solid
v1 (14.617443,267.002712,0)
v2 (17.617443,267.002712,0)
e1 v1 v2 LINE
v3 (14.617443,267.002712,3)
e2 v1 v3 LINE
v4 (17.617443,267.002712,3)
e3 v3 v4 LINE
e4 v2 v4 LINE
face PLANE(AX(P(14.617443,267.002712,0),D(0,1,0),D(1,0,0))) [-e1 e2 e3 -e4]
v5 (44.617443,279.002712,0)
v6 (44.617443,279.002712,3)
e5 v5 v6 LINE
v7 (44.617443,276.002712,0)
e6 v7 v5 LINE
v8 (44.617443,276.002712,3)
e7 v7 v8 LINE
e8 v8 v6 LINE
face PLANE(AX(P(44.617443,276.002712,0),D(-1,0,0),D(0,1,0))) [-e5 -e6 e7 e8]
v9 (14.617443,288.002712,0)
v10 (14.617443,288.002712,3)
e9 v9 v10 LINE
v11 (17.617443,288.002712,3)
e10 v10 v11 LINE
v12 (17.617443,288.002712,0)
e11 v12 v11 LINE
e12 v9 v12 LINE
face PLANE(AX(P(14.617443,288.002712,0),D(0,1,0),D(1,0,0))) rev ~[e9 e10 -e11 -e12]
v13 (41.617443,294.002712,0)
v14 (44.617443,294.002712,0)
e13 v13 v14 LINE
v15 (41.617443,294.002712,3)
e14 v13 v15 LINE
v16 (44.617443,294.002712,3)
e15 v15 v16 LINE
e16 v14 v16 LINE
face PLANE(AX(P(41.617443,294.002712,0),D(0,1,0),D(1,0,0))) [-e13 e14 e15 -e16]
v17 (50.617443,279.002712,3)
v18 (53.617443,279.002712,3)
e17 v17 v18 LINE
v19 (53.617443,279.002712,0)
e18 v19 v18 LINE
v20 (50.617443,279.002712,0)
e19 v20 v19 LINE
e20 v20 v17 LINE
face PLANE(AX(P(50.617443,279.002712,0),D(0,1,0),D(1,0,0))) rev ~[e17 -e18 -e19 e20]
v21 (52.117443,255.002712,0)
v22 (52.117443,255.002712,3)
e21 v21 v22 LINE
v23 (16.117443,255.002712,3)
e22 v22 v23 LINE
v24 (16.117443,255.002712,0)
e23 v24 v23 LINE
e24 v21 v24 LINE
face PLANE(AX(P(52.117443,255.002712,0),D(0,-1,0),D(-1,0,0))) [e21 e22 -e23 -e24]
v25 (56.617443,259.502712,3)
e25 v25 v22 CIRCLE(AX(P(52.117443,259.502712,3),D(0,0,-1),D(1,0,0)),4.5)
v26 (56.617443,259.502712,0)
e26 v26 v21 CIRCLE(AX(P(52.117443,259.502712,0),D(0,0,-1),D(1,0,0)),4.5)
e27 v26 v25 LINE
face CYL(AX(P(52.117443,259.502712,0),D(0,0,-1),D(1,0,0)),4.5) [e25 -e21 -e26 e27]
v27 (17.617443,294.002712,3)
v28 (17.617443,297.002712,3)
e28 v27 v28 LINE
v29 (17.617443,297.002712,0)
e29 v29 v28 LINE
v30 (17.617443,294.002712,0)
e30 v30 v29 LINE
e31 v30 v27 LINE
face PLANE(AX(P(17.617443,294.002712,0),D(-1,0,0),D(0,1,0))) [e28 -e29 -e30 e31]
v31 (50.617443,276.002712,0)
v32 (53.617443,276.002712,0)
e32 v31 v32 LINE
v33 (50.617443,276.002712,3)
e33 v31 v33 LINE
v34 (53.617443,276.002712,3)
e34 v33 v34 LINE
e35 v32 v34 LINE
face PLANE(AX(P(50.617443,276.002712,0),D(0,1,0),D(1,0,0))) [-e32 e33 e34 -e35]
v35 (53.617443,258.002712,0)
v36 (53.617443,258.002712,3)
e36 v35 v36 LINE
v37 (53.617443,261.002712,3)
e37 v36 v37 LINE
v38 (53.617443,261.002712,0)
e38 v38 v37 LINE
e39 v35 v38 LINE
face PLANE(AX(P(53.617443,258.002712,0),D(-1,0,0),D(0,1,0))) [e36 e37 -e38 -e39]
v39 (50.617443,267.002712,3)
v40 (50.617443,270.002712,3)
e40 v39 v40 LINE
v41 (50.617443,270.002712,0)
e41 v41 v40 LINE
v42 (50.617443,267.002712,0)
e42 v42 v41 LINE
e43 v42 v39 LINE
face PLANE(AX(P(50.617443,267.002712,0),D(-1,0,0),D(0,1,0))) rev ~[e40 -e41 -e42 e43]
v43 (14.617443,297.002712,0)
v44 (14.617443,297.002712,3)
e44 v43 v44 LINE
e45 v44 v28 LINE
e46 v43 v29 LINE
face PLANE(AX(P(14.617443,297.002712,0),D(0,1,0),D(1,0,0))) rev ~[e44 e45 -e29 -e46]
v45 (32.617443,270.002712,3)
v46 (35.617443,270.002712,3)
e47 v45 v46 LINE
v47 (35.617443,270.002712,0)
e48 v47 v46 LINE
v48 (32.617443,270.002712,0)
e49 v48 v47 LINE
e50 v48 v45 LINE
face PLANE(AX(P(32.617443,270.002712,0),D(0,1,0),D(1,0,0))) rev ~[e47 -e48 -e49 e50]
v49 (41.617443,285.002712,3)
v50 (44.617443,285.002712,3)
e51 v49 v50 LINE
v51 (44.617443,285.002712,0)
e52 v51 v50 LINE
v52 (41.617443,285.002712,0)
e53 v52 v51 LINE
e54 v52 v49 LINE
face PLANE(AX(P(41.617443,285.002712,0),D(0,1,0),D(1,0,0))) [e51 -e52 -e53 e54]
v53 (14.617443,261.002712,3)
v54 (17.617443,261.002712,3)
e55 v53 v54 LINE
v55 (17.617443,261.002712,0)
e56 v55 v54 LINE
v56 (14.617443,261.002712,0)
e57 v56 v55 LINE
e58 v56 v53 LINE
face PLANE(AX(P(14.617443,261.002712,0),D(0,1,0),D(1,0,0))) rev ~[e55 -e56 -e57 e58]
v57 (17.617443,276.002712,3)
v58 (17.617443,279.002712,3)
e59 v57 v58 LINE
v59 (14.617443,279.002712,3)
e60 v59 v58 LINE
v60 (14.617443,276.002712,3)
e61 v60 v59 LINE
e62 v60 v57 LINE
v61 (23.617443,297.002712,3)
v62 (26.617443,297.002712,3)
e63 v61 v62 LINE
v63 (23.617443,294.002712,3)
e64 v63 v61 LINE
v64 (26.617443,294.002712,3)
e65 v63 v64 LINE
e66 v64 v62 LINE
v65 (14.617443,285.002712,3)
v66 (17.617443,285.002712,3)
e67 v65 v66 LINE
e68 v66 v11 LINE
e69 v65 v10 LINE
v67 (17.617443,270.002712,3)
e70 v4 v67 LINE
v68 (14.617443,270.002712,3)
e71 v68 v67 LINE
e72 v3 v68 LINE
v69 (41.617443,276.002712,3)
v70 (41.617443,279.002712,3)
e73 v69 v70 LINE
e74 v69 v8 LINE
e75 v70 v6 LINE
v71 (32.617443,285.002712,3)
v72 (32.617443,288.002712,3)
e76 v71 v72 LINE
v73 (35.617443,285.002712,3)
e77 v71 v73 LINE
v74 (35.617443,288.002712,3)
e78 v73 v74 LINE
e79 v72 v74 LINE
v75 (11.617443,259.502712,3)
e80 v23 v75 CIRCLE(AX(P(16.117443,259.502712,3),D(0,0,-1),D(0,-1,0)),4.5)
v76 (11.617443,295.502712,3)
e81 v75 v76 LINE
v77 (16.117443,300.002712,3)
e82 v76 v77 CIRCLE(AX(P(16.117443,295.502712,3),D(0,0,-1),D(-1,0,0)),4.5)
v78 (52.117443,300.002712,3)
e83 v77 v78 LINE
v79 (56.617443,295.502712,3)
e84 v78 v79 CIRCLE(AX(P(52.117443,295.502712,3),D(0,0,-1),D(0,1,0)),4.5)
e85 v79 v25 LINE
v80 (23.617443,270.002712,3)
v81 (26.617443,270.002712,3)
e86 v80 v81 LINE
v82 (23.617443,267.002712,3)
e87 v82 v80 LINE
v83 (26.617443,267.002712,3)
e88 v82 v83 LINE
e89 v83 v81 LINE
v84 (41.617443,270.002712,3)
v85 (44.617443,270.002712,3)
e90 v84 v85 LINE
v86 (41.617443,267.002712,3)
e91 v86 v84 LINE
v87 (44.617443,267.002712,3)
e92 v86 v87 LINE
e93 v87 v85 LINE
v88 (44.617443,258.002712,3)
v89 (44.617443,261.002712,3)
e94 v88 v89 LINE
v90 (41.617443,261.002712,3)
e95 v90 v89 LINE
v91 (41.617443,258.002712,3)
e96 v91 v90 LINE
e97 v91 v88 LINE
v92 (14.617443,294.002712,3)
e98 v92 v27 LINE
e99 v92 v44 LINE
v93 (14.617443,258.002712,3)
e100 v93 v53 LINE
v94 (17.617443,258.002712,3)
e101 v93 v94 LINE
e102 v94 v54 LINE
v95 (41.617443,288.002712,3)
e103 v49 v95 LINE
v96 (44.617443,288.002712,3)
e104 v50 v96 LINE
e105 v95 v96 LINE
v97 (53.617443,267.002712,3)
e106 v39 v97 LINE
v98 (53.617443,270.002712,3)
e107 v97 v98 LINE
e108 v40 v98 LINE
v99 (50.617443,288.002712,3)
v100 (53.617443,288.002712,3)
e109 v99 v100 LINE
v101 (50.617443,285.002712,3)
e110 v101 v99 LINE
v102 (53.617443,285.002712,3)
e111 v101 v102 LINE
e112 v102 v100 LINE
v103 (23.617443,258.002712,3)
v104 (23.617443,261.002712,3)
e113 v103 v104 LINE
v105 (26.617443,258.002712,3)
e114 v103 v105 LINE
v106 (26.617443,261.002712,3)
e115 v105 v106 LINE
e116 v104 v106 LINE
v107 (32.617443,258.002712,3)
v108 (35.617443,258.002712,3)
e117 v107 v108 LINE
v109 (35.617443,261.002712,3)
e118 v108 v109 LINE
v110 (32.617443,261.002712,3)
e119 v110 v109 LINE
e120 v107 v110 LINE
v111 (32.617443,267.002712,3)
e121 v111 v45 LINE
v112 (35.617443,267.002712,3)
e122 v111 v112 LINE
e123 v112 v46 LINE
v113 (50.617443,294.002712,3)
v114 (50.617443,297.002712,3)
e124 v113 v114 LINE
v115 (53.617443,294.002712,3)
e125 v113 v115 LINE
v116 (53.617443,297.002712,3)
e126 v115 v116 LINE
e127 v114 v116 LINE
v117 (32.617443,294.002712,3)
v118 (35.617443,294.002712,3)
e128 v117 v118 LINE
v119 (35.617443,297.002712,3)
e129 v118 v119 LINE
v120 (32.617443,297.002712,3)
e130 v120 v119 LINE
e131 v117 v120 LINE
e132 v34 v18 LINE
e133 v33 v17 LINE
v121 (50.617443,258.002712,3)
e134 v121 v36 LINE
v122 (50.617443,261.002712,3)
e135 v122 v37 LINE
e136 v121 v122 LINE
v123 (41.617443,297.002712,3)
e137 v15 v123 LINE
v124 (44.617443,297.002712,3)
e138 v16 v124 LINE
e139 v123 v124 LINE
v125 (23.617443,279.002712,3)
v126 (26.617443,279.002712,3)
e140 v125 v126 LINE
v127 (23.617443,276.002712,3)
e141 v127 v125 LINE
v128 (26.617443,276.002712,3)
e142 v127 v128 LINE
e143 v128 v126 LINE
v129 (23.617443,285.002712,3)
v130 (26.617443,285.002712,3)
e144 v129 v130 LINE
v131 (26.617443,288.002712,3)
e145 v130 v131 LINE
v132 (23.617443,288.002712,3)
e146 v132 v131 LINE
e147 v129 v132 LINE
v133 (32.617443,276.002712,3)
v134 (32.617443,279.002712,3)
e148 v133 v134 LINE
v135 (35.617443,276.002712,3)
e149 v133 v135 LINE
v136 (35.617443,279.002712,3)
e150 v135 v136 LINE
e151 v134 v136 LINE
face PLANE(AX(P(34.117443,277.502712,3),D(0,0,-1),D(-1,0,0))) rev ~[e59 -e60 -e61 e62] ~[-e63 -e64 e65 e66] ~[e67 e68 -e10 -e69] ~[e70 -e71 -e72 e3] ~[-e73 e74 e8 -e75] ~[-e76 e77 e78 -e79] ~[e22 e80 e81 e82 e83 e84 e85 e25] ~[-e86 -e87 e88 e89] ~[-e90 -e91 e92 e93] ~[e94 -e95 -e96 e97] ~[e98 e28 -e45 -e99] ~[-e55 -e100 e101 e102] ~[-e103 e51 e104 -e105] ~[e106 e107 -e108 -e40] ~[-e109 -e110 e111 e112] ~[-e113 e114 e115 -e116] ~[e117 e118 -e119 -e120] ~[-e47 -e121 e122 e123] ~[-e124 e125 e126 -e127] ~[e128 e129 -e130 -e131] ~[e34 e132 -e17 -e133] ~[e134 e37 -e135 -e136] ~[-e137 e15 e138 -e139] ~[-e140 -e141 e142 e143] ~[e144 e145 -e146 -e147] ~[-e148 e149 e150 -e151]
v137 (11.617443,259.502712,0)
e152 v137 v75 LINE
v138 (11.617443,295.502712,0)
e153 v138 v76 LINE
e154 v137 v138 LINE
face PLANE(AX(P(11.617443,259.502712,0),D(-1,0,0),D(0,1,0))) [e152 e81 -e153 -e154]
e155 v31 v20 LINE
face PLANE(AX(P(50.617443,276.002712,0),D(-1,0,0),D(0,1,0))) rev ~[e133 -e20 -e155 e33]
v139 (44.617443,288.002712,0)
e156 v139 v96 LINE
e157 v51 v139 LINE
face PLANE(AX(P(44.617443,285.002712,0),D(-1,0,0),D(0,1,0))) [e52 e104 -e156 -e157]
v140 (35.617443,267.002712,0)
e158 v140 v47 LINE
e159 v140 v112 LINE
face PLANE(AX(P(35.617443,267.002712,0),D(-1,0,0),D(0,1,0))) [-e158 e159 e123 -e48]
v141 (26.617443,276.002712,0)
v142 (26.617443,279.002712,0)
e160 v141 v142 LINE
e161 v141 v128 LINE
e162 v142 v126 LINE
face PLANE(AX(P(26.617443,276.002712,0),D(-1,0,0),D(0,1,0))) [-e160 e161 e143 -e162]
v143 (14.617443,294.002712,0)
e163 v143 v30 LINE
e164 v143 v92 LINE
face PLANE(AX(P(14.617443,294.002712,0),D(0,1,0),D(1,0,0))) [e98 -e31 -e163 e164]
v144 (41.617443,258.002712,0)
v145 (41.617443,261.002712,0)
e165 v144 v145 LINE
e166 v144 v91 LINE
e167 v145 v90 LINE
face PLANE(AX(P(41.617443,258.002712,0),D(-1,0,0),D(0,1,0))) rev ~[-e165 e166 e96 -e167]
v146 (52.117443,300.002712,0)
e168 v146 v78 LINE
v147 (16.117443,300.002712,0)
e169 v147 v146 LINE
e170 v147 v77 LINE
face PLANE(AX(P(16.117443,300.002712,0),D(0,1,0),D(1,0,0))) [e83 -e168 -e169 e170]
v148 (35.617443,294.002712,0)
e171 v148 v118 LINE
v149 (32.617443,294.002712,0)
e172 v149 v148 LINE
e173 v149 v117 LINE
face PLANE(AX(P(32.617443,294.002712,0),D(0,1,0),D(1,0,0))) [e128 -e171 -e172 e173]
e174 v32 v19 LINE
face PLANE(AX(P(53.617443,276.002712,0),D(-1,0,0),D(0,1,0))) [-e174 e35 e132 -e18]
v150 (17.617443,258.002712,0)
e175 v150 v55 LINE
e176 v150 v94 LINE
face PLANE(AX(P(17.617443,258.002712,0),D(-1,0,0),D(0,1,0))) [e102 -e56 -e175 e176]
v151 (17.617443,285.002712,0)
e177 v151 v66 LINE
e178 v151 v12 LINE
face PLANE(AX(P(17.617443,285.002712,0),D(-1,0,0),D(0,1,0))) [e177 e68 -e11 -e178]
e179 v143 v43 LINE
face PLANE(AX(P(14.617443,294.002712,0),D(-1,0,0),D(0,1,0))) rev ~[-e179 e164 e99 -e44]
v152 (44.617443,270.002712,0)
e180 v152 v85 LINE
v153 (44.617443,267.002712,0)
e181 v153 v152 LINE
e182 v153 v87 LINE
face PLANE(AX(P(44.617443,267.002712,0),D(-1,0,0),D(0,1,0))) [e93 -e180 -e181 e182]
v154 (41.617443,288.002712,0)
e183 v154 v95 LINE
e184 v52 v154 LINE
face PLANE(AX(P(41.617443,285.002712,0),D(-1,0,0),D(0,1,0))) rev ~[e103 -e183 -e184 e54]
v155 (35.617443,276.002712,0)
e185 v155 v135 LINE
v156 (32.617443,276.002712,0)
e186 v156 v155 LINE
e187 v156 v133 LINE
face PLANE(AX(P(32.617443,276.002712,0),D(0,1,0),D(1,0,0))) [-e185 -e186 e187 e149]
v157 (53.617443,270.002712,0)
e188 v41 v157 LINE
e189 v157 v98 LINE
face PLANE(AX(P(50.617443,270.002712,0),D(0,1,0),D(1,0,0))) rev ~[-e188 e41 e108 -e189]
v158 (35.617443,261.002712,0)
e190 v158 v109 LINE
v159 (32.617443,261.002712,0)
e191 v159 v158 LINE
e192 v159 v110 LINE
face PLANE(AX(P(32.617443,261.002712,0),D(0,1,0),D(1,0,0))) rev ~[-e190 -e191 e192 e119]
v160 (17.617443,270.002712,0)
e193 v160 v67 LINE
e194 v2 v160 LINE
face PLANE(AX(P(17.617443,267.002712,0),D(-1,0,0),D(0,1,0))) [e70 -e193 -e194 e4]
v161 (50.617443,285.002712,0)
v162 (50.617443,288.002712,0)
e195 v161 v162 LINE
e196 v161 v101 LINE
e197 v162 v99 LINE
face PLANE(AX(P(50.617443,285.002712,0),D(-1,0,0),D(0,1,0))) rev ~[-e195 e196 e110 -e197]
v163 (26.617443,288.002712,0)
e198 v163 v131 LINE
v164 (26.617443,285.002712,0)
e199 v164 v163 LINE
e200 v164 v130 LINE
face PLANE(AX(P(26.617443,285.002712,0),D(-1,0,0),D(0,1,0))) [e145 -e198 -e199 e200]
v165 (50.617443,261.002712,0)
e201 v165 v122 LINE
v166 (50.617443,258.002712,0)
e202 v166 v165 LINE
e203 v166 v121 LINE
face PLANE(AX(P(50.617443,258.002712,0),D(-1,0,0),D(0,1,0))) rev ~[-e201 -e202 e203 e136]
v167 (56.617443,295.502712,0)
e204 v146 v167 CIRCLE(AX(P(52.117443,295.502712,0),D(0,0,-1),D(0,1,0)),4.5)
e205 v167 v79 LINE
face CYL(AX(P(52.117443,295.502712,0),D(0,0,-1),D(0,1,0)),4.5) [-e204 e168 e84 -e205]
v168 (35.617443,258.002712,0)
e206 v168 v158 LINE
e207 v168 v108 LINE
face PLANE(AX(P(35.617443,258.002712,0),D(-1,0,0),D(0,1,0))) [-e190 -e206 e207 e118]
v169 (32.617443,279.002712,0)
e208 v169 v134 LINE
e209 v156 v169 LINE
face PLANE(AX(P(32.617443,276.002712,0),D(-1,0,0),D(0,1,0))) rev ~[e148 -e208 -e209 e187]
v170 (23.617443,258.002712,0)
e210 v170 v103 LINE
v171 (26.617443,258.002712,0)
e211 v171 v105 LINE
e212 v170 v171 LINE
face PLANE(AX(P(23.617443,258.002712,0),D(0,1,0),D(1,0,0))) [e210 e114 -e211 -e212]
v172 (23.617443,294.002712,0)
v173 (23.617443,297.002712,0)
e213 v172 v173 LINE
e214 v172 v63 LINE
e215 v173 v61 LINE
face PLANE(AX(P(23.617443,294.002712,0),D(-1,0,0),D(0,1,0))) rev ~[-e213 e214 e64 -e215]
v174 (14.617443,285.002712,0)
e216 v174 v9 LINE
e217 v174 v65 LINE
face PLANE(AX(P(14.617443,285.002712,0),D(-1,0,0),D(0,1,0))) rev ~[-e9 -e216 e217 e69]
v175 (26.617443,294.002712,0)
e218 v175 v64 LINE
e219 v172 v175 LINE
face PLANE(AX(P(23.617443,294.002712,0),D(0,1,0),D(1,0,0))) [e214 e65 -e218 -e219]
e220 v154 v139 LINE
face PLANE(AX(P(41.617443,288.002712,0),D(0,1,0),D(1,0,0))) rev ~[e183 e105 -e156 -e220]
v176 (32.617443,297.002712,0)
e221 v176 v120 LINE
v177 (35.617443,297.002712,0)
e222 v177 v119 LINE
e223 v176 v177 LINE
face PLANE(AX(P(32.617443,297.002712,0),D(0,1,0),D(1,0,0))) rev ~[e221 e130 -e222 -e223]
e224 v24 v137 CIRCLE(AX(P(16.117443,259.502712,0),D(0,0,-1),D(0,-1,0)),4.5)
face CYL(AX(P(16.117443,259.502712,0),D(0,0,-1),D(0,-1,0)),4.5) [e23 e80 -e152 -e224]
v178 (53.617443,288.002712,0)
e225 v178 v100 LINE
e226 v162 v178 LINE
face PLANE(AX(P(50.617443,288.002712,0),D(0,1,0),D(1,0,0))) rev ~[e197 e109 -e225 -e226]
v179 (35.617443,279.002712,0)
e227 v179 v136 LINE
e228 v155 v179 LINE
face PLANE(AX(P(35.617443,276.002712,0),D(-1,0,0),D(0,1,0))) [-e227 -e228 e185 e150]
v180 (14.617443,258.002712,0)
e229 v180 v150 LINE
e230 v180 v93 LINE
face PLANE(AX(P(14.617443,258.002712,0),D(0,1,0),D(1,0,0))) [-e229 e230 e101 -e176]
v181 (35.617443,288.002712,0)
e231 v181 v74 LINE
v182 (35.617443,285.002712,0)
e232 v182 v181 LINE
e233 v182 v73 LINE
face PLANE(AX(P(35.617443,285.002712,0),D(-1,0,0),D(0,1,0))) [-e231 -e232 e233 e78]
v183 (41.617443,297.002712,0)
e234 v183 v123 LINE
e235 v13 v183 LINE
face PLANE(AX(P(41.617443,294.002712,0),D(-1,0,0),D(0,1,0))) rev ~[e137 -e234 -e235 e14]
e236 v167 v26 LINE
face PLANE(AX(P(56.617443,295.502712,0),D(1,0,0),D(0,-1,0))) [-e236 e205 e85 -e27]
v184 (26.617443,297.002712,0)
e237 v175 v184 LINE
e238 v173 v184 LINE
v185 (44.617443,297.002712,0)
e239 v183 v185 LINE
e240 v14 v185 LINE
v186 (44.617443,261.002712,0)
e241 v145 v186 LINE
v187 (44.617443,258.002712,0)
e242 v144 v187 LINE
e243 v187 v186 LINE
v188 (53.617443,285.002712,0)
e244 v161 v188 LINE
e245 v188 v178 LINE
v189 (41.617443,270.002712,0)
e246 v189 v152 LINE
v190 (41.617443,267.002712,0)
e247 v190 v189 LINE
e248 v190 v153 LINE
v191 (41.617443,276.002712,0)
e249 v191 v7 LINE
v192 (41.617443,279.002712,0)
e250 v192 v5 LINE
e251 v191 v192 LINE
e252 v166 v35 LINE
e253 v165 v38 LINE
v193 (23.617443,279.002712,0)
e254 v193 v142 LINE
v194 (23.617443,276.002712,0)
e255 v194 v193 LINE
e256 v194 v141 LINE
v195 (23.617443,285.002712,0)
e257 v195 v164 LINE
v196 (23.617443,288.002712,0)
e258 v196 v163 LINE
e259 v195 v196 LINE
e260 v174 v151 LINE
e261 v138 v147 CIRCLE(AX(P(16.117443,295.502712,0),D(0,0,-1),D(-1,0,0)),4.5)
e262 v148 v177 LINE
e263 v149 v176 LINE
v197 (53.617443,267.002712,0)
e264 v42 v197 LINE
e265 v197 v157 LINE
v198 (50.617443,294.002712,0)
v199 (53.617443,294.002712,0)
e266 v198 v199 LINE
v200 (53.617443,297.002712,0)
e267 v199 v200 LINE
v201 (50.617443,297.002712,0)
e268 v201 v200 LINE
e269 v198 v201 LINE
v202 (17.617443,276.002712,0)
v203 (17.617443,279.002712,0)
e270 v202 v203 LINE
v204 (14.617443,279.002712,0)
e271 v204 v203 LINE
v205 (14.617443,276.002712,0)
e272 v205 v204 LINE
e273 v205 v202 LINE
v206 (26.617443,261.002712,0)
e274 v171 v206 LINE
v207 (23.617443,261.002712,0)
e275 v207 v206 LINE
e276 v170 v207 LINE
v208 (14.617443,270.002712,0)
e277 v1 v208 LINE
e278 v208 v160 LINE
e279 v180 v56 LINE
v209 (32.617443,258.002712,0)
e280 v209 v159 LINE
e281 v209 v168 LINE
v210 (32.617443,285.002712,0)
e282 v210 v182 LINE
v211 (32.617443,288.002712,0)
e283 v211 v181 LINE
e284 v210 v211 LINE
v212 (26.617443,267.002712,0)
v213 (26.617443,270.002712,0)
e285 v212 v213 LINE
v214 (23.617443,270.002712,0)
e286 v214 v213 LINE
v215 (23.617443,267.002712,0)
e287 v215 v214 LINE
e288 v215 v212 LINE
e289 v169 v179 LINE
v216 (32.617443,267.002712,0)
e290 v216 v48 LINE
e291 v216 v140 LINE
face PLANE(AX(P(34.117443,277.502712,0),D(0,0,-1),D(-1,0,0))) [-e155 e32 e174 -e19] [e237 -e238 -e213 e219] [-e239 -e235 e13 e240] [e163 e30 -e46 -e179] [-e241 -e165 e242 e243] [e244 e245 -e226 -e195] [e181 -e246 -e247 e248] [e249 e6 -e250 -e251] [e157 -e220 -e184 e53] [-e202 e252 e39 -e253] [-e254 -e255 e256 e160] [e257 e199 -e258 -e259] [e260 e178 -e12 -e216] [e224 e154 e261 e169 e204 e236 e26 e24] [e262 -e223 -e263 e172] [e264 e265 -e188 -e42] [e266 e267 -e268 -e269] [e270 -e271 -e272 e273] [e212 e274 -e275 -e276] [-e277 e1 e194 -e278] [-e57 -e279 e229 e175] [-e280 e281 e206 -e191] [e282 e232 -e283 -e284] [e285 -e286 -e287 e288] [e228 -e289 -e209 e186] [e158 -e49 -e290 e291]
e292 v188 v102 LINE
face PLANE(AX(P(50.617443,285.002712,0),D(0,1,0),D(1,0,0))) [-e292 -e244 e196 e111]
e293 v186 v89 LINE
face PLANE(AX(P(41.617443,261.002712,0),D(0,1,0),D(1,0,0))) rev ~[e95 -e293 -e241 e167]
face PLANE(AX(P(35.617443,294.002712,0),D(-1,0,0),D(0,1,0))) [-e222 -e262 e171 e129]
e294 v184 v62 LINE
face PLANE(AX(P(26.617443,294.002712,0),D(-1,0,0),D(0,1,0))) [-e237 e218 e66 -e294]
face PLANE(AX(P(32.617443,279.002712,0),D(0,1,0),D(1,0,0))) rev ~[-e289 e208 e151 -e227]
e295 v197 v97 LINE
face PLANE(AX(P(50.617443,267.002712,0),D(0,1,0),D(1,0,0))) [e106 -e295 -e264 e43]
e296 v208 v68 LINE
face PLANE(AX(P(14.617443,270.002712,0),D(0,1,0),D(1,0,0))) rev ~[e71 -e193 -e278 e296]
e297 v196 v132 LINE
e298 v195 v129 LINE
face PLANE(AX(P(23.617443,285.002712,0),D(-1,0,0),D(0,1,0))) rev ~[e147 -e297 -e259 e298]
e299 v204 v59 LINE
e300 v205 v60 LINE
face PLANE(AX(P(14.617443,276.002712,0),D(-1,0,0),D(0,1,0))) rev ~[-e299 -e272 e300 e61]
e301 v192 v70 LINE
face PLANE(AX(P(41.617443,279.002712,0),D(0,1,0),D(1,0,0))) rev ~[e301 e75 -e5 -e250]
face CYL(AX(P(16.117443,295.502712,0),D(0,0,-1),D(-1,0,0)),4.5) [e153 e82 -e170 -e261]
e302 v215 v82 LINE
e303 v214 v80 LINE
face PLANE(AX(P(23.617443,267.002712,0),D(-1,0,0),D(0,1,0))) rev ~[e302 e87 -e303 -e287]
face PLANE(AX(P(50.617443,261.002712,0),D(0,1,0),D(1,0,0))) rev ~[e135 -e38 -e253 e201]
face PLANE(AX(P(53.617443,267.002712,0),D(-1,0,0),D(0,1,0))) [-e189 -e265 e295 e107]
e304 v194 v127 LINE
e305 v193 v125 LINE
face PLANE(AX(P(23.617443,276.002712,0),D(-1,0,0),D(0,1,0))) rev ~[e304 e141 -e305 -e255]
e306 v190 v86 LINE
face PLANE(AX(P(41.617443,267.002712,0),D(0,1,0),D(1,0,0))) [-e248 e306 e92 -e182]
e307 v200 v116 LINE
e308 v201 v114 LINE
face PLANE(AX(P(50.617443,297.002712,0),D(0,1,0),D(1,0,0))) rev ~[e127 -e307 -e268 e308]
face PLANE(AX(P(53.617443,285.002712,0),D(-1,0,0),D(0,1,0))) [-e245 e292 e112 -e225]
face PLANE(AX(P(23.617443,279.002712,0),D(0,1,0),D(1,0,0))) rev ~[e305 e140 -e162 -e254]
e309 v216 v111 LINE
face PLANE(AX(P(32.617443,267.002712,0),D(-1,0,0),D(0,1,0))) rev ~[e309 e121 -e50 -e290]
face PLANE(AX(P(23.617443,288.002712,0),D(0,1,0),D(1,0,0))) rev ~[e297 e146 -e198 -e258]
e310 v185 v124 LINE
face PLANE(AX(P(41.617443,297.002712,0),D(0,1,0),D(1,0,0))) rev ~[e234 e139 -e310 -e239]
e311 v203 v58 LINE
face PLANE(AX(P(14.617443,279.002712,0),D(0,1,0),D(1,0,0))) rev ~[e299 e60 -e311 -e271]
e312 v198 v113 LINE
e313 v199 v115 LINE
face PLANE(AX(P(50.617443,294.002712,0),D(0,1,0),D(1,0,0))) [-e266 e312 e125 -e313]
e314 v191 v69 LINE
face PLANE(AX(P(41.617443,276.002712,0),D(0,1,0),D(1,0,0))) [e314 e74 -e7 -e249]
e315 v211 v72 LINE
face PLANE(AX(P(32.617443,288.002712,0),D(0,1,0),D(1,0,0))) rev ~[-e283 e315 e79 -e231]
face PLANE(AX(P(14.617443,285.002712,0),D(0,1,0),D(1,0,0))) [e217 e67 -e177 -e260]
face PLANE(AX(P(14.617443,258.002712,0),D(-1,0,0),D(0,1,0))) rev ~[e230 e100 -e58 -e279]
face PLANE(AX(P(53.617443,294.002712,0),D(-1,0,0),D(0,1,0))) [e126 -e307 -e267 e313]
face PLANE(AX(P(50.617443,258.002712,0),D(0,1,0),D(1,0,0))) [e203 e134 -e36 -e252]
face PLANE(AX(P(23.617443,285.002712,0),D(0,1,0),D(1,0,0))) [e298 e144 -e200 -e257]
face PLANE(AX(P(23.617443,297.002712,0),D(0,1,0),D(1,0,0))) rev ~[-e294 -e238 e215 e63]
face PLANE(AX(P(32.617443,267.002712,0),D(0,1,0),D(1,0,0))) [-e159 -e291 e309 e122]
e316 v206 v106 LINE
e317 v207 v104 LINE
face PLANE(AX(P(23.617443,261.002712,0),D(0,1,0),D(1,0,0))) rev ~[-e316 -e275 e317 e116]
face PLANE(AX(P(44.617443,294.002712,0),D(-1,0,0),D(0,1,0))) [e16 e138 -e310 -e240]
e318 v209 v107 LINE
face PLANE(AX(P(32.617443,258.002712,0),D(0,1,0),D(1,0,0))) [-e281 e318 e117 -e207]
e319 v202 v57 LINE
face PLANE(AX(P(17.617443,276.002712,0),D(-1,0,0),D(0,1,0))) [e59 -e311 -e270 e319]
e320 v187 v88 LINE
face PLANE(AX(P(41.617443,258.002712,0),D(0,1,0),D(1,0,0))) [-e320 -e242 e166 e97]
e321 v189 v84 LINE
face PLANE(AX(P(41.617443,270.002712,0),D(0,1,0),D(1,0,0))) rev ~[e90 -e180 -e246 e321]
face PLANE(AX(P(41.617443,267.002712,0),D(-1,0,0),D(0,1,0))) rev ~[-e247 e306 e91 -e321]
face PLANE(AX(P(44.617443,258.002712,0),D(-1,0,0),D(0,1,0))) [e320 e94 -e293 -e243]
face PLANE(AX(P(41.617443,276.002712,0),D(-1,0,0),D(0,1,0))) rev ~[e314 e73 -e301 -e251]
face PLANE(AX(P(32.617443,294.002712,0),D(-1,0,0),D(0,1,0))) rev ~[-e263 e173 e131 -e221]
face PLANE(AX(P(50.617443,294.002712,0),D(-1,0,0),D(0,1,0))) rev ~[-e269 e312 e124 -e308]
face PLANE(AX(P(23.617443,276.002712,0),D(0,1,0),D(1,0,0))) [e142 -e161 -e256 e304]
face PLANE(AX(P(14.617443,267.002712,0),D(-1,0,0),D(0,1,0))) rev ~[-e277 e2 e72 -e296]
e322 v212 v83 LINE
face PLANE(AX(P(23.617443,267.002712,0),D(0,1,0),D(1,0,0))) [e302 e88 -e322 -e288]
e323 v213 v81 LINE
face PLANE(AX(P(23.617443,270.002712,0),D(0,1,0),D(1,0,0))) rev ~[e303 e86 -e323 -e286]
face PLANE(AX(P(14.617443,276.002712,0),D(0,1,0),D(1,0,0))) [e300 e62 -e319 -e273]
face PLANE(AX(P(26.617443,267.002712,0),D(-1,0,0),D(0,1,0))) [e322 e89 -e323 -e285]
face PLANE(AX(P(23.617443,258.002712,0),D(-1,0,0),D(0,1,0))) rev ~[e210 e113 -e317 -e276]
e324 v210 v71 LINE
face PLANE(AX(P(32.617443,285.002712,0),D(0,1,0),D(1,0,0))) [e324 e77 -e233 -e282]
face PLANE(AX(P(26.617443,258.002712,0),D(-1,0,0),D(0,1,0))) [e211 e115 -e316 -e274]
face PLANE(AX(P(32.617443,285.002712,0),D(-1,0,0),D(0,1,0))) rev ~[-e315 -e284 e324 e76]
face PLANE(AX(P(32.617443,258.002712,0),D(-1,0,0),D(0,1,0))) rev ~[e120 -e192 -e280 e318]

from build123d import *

# Parameters (mm, degrees)
MODEL_W                 = 3
MODEL_H                 = 3
SALIENTE_EXTRUIR1_DEPTH = 3


with BuildPart() as part:
    # Model → Saliente-Extruir1 (new body)
    with BuildSketch(Plane.XY):
        with BuildLine():
            Line((16.117442786, 300.002712349), (52.117442786, 300.002712349))
            ThreePointArc((52.117442786, 300.002712349), (55.299423301, 298.684692865), (56.617442786, 295.502712349))
            Line((56.617442786, 295.502712349), (56.617442786, 259.502712349))
            ThreePointArc((56.617442786, 259.502712349), (55.299423301, 256.320731834), (52.117442786, 255.002712349))
            Line((52.117442786, 255.002712349), (16.117442786, 255.002712349))
            ThreePointArc((16.117442786, 255.002712349), (12.935462271, 256.320731834), (11.617442786, 259.502712349))
            Line((11.617442786, 259.502712349), (11.617442786, 295.502712349))
            ThreePointArc((11.617442786, 295.502712349), (12.935462271, 298.684692865), (16.117442786, 300.002712349))
        make_face()
        with Locations((16.117442786, 295.502712349)):
            Rectangle(MODEL_W, MODEL_H, mode=Mode.SUBTRACT)
        with Locations((25.117442786, 295.502712349)):
            Rectangle(MODEL_W, MODEL_H, mode=Mode.SUBTRACT)
        with Locations((34.117442786, 295.502712349)):
            Rectangle(MODEL_W, MODEL_H, mode=Mode.SUBTRACT)
        with Locations((43.117442786, 295.502712349)):
            Rectangle(MODEL_W, MODEL_H, mode=Mode.SUBTRACT)
        with Locations((52.117442786, 295.502712349)):
            Rectangle(MODEL_W, MODEL_H, mode=Mode.SUBTRACT)
        with Locations((16.117442786, 259.502712349)):
            Rectangle(MODEL_W, MODEL_H, mode=Mode.SUBTRACT)
        with Locations((25.117442786, 259.502712349)):
            Rectangle(MODEL_W, MODEL_H, mode=Mode.SUBTRACT)
        with Locations((34.117442786, 259.502712349)):
            Rectangle(MODEL_W, MODEL_H, mode=Mode.SUBTRACT)
        with Locations((43.117442786, 259.502712349)):
            Rectangle(MODEL_W, MODEL_H, mode=Mode.SUBTRACT)
        with Locations((52.117442786, 259.502712349)):
            Rectangle(MODEL_W, MODEL_H, mode=Mode.SUBTRACT)
        with Locations((16.117442786, 286.502712349)):
            Rectangle(MODEL_W, MODEL_H, mode=Mode.SUBTRACT)
        with Locations((25.117442786, 286.502712349)):
            Rectangle(MODEL_W, MODEL_H, mode=Mode.SUBTRACT)
        with Locations((34.117442786, 286.502712349)):
            Rectangle(MODEL_W, MODEL_H, mode=Mode.SUBTRACT)
        with Locations((43.117442786, 286.502712349)):
            Rectangle(MODEL_W, MODEL_H, mode=Mode.SUBTRACT)
        with Locations((52.117442786, 286.502712349)):
            Rectangle(MODEL_W, MODEL_H, mode=Mode.SUBTRACT)
        with Locations((16.117442786, 277.502712349)):
            Rectangle(MODEL_W, MODEL_H, mode=Mode.SUBTRACT)
        with Locations((25.117442786, 277.502712349)):
            Rectangle(MODEL_W, MODEL_H, mode=Mode.SUBTRACT)
        with Locations((34.117442786, 277.502712349)):
            Rectangle(MODEL_W, MODEL_H, mode=Mode.SUBTRACT)
        with Locations((43.117442786, 277.502712349)):
            Rectangle(MODEL_W, MODEL_H, mode=Mode.SUBTRACT)
        with Locations((52.117442786, 277.502712349)):
            Rectangle(MODEL_W, MODEL_H, mode=Mode.SUBTRACT)
        with Locations((16.117442786, 268.502712349)):
            Rectangle(MODEL_W, MODEL_H, mode=Mode.SUBTRACT)
        with Locations((25.117442786, 268.502712349)):
            Rectangle(MODEL_W, MODEL_H, mode=Mode.SUBTRACT)
        with Locations((34.117442786, 268.502712349)):
            Rectangle(MODEL_W, MODEL_H, mode=Mode.SUBTRACT)
        with Locations((43.117442786, 268.502712349)):
            Rectangle(MODEL_W, MODEL_H, mode=Mode.SUBTRACT)
        with Locations((52.117442786, 268.502712349)):
            Rectangle(MODEL_W, MODEL_H, mode=Mode.SUBTRACT)
    extrude(amount=SALIENTE_EXTRUIR1_DEPTH)


solid = part.part
